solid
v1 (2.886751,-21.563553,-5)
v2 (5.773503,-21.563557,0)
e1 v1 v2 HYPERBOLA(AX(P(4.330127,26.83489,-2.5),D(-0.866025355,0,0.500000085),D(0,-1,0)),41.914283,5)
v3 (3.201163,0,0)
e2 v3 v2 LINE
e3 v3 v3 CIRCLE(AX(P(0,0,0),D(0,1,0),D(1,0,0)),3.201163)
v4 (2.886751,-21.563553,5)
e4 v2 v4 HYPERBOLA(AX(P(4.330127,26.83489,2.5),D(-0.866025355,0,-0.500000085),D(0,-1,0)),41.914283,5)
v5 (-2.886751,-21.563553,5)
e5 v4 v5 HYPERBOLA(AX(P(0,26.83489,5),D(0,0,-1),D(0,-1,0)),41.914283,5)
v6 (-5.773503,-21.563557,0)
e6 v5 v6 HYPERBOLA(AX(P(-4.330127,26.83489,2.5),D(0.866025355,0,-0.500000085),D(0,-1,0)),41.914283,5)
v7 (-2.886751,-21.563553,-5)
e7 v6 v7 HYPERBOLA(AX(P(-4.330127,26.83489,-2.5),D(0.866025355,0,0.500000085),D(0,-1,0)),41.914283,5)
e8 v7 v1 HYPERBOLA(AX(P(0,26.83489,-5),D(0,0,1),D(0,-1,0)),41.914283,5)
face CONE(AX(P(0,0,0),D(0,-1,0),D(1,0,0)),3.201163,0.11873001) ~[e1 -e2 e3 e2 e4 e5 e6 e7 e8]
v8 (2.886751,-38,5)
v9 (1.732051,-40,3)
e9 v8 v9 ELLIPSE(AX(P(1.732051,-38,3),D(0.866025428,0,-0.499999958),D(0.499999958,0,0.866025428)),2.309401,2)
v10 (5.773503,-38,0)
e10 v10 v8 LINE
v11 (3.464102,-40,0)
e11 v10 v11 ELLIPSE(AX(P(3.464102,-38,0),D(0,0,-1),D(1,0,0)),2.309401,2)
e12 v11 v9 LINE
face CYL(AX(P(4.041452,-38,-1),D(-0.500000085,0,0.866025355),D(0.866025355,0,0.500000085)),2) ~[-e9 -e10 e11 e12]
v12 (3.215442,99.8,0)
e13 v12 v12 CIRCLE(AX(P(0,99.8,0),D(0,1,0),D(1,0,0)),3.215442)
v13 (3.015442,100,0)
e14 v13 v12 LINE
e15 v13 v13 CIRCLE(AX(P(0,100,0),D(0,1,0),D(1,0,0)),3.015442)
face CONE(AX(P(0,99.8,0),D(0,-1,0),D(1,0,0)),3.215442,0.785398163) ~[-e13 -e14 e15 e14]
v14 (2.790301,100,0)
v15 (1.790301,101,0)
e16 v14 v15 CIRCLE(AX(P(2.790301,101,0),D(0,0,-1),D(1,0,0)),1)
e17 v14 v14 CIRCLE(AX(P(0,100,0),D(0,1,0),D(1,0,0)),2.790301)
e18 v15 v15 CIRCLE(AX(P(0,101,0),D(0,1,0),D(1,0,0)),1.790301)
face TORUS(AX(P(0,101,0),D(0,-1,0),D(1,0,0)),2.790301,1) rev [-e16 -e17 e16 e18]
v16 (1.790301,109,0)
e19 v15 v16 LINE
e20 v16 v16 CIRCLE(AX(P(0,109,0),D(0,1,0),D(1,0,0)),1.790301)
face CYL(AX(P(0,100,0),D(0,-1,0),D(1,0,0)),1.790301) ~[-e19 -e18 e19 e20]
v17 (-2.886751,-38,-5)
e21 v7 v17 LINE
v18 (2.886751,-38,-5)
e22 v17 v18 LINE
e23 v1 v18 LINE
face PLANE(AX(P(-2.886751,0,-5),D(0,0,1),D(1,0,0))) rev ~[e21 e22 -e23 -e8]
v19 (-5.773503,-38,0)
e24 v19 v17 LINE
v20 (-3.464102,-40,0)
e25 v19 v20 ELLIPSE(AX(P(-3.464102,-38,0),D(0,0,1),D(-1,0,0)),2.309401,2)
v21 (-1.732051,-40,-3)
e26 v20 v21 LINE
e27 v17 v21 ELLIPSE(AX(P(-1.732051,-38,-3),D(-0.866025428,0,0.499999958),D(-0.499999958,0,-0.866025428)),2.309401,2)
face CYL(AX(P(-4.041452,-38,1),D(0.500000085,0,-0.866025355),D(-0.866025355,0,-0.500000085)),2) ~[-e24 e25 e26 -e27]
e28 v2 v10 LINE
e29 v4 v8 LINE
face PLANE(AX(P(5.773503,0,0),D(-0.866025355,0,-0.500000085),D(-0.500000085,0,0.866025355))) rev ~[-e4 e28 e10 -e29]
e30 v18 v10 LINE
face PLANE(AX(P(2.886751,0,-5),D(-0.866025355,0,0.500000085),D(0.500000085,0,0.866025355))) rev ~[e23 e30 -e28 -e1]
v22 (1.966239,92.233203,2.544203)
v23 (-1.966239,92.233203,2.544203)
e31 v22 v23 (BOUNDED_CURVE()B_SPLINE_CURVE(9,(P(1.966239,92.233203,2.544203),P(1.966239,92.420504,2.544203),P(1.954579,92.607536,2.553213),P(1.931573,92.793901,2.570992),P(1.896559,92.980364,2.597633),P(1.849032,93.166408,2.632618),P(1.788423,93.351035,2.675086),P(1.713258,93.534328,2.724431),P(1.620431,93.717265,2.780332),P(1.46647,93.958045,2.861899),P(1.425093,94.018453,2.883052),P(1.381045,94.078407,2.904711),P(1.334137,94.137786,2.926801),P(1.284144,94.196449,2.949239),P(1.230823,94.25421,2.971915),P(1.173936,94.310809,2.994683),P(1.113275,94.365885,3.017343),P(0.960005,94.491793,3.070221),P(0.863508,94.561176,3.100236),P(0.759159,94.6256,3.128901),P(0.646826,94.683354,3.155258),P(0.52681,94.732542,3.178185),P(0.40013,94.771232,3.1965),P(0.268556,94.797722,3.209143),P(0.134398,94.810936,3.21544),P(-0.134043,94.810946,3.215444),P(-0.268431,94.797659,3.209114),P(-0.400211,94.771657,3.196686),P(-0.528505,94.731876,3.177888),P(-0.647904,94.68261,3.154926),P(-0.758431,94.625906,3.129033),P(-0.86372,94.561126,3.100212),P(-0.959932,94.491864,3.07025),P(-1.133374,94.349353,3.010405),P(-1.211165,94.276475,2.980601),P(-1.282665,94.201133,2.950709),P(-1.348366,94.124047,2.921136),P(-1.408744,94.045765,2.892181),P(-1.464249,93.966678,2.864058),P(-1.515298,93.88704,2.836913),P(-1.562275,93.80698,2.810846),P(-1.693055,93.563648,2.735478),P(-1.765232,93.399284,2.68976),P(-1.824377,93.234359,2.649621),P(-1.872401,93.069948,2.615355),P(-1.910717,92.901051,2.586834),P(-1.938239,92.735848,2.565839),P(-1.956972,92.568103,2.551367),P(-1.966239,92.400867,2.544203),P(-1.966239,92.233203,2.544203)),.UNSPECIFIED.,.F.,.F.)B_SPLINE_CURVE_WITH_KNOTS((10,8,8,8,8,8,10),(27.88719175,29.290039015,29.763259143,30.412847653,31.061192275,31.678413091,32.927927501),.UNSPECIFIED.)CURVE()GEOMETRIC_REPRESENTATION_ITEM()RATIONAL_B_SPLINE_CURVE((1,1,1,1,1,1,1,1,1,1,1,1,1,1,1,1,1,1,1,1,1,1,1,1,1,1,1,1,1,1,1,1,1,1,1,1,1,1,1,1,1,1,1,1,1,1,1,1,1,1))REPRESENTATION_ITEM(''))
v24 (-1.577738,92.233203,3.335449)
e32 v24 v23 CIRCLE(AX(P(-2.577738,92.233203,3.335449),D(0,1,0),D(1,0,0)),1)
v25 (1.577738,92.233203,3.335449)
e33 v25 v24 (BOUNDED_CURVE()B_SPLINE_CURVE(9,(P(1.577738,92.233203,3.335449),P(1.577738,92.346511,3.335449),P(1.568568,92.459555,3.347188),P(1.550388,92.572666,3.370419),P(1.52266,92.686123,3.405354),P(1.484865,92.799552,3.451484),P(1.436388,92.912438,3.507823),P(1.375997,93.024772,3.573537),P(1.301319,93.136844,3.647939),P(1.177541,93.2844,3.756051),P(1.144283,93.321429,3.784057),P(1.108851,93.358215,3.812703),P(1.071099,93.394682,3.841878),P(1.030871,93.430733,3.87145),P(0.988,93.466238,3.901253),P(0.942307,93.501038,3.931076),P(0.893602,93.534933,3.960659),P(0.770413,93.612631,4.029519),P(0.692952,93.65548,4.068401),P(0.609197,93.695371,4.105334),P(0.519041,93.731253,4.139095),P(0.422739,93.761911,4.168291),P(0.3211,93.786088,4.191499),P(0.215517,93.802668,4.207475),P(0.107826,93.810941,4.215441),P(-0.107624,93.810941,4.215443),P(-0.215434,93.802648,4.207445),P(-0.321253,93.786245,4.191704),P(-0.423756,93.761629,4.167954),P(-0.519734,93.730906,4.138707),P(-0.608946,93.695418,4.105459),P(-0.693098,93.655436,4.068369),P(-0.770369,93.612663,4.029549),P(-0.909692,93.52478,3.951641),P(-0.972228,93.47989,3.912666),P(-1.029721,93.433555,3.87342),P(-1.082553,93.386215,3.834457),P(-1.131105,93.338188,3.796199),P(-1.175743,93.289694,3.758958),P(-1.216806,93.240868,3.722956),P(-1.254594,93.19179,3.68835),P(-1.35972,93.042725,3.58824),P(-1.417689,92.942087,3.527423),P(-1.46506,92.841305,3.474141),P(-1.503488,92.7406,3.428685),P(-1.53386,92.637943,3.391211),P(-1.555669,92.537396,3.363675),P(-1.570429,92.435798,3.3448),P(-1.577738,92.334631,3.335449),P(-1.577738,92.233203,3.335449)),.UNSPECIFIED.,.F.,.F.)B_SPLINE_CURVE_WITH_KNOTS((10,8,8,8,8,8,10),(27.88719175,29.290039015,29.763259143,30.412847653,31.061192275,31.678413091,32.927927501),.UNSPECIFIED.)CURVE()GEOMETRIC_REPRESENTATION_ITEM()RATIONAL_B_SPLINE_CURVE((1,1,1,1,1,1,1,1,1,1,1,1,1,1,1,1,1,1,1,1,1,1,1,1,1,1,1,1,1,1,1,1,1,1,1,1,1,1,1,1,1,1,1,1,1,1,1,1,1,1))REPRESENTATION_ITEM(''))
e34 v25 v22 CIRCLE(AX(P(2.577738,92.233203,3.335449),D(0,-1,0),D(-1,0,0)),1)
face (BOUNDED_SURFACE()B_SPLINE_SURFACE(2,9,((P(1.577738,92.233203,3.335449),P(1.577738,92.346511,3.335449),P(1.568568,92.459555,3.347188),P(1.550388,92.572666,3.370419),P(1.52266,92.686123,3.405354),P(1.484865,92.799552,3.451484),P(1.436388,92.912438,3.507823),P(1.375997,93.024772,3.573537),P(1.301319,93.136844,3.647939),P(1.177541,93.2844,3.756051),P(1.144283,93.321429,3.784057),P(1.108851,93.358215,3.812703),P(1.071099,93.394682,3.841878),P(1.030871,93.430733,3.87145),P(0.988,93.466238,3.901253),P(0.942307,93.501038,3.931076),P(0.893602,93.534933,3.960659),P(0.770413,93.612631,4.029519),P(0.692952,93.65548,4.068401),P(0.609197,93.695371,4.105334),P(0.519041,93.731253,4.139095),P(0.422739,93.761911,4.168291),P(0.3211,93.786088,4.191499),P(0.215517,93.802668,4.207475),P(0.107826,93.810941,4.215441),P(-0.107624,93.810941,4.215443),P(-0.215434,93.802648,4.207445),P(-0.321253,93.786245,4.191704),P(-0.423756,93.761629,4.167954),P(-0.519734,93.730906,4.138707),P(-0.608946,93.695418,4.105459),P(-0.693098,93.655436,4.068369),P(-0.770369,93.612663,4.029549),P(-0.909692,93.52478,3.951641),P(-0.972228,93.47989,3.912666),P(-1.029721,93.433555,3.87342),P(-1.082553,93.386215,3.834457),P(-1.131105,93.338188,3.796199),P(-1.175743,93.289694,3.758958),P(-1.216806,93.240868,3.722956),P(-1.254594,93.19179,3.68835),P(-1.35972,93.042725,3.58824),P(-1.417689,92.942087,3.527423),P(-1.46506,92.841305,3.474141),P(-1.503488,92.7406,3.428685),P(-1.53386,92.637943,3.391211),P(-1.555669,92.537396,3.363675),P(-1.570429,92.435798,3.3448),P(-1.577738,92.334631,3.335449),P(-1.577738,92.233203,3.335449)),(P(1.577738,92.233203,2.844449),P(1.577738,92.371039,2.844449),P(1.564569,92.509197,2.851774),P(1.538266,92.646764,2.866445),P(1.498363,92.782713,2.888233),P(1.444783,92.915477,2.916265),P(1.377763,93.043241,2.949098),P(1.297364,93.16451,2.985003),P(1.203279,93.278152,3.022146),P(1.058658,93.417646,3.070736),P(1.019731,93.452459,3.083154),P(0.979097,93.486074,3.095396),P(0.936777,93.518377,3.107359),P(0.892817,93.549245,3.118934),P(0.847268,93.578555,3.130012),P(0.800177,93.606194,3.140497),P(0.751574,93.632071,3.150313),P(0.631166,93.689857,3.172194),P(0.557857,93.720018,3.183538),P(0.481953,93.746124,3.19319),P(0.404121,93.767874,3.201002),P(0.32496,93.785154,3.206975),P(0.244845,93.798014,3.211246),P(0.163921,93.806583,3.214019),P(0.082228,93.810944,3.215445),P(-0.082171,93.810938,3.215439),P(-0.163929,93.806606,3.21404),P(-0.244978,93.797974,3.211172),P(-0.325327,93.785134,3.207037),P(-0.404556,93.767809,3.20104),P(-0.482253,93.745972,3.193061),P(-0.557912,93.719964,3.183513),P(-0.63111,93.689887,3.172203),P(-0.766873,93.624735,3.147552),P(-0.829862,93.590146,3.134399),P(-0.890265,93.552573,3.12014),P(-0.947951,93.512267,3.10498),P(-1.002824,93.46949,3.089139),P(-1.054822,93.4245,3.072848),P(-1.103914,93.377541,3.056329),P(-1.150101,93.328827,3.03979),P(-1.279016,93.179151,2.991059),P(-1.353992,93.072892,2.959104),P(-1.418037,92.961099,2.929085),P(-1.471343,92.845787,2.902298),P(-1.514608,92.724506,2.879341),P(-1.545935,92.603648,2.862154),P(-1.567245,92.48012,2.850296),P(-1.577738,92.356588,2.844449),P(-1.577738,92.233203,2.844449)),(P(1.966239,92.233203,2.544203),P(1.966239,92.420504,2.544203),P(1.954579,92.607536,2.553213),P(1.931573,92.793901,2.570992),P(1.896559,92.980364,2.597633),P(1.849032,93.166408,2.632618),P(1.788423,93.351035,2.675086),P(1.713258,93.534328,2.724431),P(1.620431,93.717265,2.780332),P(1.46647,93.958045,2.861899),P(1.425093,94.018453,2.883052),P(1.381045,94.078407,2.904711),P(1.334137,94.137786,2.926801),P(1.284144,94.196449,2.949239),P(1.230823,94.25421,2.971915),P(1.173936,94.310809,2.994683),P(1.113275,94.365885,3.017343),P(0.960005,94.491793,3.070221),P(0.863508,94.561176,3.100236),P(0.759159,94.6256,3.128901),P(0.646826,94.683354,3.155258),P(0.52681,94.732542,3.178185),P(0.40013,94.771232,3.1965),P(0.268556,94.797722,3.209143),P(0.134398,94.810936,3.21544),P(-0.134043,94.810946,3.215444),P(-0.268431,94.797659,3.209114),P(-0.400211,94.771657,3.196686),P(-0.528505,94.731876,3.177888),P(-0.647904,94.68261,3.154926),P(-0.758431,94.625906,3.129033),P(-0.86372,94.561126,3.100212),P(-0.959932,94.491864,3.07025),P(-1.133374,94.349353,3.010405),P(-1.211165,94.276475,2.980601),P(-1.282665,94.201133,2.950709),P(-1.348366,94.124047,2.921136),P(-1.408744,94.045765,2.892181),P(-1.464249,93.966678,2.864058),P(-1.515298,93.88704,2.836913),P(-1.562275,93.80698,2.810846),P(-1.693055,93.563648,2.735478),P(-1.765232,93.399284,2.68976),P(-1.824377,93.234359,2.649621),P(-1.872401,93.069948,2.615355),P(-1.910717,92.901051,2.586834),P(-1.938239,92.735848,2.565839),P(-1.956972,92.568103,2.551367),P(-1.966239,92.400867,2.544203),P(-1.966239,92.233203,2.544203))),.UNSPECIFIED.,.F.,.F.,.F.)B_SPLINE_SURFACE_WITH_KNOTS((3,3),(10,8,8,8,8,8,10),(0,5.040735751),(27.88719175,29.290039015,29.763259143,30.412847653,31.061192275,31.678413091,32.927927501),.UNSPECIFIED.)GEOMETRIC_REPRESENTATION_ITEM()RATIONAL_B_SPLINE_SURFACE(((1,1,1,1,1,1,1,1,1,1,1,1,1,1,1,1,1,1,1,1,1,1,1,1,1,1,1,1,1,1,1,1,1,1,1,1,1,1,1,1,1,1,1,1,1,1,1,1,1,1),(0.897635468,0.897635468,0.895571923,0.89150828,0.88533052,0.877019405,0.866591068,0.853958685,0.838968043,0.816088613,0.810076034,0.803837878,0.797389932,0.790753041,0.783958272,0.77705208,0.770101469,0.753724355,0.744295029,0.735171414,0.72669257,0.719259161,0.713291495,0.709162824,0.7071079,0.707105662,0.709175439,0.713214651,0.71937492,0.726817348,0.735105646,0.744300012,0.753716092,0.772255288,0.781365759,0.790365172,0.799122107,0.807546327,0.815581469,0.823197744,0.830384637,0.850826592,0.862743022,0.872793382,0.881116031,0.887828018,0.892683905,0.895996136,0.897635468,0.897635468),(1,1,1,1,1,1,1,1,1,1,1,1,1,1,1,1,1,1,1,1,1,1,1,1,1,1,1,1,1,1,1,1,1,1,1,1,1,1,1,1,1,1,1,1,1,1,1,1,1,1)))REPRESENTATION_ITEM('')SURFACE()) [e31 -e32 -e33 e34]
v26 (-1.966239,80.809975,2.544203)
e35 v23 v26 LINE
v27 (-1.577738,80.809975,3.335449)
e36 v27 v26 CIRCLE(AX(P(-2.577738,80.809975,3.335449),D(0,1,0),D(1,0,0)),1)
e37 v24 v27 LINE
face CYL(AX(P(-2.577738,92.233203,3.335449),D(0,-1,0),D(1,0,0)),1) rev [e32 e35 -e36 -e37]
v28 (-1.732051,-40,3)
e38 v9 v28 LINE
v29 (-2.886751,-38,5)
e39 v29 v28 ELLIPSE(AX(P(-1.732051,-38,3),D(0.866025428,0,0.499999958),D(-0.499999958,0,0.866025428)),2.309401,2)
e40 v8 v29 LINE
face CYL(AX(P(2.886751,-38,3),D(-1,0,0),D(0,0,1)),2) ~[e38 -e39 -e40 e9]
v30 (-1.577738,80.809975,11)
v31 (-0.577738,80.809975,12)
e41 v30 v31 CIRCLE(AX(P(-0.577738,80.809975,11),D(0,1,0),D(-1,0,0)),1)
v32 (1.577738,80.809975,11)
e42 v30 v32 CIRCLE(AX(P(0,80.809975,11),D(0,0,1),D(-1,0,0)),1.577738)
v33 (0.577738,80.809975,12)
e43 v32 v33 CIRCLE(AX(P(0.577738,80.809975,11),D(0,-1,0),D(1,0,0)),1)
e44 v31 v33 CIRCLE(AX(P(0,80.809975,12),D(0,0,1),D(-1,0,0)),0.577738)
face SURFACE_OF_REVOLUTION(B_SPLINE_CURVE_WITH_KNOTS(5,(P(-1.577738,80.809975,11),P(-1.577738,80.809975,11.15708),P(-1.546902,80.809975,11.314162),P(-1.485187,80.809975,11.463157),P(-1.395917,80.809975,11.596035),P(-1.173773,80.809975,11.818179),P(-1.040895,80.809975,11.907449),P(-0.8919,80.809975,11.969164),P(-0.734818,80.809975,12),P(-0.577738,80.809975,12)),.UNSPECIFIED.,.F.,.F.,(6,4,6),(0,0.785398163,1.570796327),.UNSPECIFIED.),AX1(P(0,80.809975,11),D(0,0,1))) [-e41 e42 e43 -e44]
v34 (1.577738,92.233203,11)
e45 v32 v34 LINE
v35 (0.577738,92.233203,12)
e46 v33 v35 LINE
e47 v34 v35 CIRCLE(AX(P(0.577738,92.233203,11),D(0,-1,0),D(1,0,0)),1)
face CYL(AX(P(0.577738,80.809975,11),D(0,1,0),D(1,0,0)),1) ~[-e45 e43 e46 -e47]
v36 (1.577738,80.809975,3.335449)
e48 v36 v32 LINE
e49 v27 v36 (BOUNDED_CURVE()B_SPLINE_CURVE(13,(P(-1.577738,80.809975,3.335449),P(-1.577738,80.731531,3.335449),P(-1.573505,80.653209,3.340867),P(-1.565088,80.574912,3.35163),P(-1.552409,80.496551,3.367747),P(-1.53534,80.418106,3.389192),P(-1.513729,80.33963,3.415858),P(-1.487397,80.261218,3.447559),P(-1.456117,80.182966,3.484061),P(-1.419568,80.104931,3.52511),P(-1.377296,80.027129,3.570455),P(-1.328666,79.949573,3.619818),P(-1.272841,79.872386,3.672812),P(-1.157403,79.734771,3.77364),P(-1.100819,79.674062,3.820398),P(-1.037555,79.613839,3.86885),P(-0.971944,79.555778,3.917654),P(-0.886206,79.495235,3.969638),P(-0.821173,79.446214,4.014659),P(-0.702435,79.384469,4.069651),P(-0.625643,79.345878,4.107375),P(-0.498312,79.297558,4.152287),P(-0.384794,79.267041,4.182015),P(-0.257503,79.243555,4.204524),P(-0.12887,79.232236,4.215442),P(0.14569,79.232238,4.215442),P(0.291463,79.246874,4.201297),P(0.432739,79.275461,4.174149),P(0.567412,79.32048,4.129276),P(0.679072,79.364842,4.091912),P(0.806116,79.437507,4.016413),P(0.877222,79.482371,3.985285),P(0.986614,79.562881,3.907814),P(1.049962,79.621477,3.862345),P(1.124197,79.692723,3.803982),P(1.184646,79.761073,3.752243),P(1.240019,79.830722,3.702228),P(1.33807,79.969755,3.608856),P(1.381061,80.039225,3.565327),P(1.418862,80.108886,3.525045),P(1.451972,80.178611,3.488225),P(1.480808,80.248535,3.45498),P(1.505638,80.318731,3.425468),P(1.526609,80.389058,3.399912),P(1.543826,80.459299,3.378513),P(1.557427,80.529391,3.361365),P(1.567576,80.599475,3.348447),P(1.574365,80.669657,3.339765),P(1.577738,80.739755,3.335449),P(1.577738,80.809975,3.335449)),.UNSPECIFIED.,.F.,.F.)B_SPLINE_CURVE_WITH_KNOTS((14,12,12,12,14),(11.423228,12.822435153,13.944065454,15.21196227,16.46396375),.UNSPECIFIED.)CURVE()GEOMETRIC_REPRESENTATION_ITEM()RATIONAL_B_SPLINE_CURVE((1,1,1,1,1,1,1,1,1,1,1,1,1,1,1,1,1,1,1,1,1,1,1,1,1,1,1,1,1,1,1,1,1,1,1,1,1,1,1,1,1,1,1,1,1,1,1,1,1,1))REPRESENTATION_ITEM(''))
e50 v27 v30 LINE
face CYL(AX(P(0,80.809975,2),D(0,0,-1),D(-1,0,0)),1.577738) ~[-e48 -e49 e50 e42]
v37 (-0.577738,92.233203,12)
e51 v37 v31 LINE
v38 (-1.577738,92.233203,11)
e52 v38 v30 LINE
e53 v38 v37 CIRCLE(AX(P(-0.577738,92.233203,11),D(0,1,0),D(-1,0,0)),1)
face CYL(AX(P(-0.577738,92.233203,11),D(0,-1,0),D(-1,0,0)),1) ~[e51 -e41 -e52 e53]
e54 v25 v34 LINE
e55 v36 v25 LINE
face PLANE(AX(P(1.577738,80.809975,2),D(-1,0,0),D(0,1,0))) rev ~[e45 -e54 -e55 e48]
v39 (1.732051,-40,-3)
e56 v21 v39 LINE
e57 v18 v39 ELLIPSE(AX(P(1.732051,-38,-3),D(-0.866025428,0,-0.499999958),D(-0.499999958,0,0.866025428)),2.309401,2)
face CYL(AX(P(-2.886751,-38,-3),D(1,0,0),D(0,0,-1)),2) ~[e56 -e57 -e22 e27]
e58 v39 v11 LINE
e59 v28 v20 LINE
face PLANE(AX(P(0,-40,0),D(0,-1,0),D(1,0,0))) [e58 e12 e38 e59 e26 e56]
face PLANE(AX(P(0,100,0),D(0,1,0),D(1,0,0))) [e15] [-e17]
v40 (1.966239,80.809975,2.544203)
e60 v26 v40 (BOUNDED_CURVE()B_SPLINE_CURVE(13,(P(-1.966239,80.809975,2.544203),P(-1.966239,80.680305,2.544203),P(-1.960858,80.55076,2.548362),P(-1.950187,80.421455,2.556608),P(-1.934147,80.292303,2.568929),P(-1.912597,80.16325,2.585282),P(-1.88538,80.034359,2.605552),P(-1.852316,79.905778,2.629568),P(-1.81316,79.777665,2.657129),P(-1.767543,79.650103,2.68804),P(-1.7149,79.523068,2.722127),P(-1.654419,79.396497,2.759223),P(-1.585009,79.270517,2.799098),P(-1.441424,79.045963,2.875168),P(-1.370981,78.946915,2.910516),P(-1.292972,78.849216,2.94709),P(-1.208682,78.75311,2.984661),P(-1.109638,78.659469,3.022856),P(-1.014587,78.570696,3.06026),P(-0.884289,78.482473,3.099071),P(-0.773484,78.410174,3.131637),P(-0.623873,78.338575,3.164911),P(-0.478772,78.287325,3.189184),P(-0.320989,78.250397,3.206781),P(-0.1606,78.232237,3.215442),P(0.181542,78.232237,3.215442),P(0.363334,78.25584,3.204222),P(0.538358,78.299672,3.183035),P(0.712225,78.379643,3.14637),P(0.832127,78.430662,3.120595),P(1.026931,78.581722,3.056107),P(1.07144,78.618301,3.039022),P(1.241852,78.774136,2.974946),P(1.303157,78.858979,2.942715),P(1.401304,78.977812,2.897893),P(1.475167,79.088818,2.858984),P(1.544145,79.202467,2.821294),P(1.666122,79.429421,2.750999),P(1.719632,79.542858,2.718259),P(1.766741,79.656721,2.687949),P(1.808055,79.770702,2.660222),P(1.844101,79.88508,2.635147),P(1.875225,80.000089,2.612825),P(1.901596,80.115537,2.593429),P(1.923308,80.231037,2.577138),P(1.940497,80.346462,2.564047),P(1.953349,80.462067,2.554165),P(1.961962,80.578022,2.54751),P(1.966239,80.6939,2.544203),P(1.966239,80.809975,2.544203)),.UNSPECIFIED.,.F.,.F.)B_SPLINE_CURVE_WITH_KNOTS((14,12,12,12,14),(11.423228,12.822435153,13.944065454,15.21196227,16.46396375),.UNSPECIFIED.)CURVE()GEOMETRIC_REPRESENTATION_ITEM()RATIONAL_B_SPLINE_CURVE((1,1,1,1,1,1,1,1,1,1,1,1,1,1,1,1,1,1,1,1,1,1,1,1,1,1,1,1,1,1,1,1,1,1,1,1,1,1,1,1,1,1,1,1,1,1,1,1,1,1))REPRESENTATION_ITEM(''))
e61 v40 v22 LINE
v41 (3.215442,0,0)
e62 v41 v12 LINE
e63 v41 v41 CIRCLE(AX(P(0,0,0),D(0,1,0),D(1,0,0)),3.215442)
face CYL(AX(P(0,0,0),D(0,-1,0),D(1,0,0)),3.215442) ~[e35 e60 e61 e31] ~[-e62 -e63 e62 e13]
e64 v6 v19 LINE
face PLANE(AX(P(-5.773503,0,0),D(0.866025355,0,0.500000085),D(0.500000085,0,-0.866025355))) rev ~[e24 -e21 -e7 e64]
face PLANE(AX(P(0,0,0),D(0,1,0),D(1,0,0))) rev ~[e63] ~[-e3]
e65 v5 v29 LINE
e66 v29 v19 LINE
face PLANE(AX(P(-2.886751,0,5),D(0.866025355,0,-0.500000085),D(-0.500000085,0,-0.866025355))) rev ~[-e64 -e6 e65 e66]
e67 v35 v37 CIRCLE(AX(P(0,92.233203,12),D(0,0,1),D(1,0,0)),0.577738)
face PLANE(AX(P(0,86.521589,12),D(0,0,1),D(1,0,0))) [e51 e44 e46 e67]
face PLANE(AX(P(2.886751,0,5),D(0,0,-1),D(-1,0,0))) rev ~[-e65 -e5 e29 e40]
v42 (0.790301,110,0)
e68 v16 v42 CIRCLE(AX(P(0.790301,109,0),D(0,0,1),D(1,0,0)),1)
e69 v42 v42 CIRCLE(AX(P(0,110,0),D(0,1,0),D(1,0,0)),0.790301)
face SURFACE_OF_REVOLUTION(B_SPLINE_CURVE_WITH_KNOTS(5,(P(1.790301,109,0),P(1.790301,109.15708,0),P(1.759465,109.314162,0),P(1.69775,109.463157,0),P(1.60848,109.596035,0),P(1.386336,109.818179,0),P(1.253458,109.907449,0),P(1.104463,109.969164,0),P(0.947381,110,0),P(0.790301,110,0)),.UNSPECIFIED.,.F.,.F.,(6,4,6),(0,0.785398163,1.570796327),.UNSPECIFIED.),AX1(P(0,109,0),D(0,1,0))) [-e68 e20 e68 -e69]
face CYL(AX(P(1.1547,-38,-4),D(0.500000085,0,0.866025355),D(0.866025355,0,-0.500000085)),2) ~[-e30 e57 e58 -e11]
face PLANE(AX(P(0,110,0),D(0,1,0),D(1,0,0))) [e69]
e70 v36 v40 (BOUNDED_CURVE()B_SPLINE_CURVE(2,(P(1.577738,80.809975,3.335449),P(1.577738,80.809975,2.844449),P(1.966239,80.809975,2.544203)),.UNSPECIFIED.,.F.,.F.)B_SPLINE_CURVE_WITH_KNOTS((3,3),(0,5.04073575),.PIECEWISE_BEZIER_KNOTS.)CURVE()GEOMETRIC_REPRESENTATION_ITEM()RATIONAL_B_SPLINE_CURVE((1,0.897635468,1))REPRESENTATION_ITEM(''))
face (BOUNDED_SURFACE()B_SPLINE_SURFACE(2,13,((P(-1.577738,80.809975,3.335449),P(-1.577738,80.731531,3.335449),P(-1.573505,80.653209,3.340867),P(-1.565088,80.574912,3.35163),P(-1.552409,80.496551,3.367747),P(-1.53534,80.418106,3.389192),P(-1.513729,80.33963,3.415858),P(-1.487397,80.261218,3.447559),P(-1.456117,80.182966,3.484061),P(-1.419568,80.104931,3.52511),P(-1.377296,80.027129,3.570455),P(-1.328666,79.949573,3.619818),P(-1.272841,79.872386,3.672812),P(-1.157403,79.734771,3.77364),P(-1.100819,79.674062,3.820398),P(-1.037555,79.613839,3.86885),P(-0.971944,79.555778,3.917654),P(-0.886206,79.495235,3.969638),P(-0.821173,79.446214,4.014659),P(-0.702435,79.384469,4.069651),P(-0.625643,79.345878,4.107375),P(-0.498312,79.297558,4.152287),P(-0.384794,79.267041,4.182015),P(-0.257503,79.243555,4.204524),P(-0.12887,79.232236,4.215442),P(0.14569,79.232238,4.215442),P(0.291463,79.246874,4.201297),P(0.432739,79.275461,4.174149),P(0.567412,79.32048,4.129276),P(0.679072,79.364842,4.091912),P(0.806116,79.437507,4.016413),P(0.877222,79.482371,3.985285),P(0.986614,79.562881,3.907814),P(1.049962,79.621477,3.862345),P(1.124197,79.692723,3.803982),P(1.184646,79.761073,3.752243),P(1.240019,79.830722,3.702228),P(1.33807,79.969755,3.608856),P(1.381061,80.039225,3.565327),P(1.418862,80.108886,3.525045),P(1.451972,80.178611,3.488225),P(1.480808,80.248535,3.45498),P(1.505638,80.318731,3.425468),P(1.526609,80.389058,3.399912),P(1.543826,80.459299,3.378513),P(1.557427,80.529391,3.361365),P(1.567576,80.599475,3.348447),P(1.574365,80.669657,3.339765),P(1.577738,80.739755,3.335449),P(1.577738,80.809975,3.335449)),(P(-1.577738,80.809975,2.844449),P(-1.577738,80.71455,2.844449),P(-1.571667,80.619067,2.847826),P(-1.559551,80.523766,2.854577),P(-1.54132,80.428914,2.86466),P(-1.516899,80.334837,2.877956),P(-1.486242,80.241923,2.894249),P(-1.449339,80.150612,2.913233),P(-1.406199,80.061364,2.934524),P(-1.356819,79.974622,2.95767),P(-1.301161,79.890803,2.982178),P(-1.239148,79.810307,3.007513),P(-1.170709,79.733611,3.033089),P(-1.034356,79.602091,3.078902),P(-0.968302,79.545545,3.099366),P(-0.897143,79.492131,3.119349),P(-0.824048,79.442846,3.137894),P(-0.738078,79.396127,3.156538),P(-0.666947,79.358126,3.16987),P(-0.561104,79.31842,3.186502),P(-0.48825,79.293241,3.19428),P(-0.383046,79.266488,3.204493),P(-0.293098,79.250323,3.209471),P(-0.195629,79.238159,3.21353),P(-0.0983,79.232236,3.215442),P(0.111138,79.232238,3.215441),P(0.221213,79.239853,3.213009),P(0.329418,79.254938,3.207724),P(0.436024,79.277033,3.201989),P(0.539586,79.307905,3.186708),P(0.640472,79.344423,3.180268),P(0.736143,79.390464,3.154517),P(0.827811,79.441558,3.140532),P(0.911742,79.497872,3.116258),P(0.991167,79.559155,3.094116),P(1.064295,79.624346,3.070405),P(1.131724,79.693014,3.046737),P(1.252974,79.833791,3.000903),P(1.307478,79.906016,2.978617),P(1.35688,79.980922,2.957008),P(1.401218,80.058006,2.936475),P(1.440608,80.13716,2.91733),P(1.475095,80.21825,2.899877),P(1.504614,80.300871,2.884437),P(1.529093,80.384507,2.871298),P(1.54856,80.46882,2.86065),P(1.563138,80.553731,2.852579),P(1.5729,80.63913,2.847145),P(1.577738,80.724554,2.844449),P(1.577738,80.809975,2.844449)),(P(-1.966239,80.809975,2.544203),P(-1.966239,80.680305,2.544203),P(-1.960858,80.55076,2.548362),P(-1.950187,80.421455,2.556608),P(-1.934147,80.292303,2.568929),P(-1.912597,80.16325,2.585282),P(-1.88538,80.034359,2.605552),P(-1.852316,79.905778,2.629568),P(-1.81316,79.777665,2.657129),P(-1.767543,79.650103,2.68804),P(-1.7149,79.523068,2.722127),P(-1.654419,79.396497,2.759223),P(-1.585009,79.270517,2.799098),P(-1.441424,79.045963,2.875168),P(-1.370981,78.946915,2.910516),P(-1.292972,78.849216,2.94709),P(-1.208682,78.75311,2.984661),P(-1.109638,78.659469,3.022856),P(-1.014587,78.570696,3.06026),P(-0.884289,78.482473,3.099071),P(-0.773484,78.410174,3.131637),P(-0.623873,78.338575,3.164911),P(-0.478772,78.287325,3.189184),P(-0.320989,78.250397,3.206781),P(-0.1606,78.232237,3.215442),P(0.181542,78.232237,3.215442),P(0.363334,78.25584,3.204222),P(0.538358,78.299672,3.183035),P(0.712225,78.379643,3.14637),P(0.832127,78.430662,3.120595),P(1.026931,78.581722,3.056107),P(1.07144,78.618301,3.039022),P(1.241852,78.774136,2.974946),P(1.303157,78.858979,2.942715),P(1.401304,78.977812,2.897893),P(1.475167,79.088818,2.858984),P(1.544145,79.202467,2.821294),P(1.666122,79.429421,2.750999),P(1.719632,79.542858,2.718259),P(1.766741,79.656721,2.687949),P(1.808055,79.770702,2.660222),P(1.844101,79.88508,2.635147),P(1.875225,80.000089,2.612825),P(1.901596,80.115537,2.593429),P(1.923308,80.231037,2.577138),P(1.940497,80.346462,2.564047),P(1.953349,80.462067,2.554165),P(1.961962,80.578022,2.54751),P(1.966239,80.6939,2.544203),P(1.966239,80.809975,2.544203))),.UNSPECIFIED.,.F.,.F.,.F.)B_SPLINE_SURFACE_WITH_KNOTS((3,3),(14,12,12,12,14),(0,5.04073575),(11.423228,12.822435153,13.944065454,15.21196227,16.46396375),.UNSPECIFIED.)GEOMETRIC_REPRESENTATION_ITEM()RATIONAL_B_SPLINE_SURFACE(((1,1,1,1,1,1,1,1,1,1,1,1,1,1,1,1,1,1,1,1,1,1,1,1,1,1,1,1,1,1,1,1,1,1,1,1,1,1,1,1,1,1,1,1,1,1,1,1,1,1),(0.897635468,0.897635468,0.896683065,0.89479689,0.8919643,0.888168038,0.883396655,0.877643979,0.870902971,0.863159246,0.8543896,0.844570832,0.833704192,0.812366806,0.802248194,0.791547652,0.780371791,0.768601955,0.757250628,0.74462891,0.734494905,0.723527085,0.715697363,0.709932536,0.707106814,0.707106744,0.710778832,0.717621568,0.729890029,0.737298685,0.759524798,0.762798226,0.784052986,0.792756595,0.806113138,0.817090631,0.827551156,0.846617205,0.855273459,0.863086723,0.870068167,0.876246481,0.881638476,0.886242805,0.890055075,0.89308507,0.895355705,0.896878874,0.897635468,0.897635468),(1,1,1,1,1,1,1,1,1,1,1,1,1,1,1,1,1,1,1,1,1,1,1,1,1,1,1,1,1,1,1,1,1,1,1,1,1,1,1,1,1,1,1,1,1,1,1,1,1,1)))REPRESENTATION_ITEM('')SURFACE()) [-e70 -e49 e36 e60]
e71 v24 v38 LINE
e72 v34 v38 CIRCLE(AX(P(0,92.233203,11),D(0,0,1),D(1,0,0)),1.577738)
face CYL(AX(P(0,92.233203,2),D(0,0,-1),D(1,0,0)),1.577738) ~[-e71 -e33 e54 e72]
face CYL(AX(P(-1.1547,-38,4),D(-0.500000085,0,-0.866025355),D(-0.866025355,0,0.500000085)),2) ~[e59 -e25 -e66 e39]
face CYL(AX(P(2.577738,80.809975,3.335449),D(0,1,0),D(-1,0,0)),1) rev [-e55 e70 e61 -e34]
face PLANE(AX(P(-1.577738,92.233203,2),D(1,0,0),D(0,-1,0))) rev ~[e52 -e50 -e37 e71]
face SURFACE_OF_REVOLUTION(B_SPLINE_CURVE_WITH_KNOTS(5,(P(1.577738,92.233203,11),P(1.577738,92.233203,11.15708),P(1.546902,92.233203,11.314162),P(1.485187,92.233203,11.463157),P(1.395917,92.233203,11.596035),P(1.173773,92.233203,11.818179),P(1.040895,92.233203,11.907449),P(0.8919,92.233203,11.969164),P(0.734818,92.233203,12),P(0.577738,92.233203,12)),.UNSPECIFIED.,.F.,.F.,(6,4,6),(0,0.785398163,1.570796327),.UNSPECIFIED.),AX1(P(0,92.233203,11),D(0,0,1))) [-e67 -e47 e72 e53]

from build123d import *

# Parameters (mm, degrees)
PAD_DEPTH    = 40
SKETCH001_R  = 3.215442
PAD001_DEPTH = 100
SKETCH002_R  = 1.790301
PAD002_DEPTH = 10
FILLET_R     = 1
FILLET001_R  = 1
CHAMFER_SIZE = 0.2
FILLET002_R  = 2
PAD003_DEPTH = 10
FILLET003_R  = 1
FILLET004_R  = 1


with BuildPart() as part:
    # Sketch → Pad (new body)
    with BuildSketch(Plane.XZ):
        Polygon((2.886751, -5), (5.773503, 0), (2.886751, 5), (-2.886751, 5), (-5.773503, 0), (-2.886751, -5), align=None)
    extrude(amount=PAD_DEPTH)

    # Sketch001 (on Face7 of Pad) → Pad001 (join)
    with BuildSketch(Plane(origin=(0, 0, 0), x_dir=(1, 0, 0), z_dir=(0, 1, 0))):
        Circle(SKETCH001_R)
    extrude(amount=PAD001_DEPTH)

    # Sketch002 (on Face10 of Pad001) → Pad002 (join)
    with BuildSketch(Plane(origin=(0, 100, 0), x_dir=(1, 0, 0), z_dir=(0, 1, 0))):
        Circle(SKETCH002_R)
    extrude(amount=PAD002_DEPTH)

    # Fillet
    fillet_edges = [part.edges().sort_by_distance(p)[0] for p in [
        (-1.790301, 100, 0),
    ]]
    fillet(fillet_edges, radius=FILLET_R)

    # Fillet001
    fillet001_edges = [part.edges().sort_by_distance(p)[0] for p in [
        (-1.790301, 110, 0),
    ]]
    fillet(fillet001_edges, radius=FILLET001_R)

    # Chamfer
    chamfer_edges = [part.edges().sort_by_distance(p)[0] for p in [
        (-3.215442, 100, 0),
    ]]
    chamfer(chamfer_edges, length=CHAMFER_SIZE)

    # Sketch003 → Groove (revolve, cut)
    with BuildSketch(Plane.XY):
        Polygon((3.201163, 0), (6.726055, -29.548664), (6.726055, 0), align=None)
    revolve(axis=Axis((0, 0, 0), (0, 1, 0)), mode=Mode.SUBTRACT)

    # Fillet002
    fillet002_edges = [part.edges().sort_by_distance(p)[0] for p in [
        (4.330127, -40, -2.5),
        (4.330127, -40, 2.5),
        (0, -40, 5),
        (-4.330127, -40, 2.5),
        (-4.330127, -40, -2.5),
        (0, -40, -5),
    ]]
    fillet(fillet002_edges, radius=FILLET002_R)

    # Sketch004 → Pad003 (join)
    with BuildSketch(Plane.XY.offset(2)):
        with BuildLine():
            ThreePointArc((1.577738, 92.233203), (0, 93.810941), (-1.577738, 92.233203))
            Line((-1.577738, 92.233203), (-1.577738, 80.809975))
            ThreePointArc((-1.577738, 80.809975), (0, 79.232237), (1.577738, 80.809975))
            Line((1.577738, 80.809975), (1.577738, 92.233203))
        make_face()
    extrude(amount=PAD003_DEPTH)

    # Fillet003
    fillet003_edges = [part.edges().sort_by_distance(p)[0] for p in [
        (0, 93.810941, 12),
        (-1.577738, 86.521589, 12),
        (0, 79.232237, 12),
        (1.577738, 86.521589, 12),
    ]]
    fillet(fillet003_edges, radius=FILLET003_R)

    # Fillet004
    fillet004_edges = [part.edges().sort_by_distance(p)[0] for p in [
        (-1.577738, 86.521589, 2.801751),
        (0, 79.232237, 3.215442),
        (0, 93.810941, 3.215442),
        (1.577738, 86.521589, 2.801751),
    ]]
    fillet(fillet004_edges, radius=FILLET004_R)


solid = part.part
